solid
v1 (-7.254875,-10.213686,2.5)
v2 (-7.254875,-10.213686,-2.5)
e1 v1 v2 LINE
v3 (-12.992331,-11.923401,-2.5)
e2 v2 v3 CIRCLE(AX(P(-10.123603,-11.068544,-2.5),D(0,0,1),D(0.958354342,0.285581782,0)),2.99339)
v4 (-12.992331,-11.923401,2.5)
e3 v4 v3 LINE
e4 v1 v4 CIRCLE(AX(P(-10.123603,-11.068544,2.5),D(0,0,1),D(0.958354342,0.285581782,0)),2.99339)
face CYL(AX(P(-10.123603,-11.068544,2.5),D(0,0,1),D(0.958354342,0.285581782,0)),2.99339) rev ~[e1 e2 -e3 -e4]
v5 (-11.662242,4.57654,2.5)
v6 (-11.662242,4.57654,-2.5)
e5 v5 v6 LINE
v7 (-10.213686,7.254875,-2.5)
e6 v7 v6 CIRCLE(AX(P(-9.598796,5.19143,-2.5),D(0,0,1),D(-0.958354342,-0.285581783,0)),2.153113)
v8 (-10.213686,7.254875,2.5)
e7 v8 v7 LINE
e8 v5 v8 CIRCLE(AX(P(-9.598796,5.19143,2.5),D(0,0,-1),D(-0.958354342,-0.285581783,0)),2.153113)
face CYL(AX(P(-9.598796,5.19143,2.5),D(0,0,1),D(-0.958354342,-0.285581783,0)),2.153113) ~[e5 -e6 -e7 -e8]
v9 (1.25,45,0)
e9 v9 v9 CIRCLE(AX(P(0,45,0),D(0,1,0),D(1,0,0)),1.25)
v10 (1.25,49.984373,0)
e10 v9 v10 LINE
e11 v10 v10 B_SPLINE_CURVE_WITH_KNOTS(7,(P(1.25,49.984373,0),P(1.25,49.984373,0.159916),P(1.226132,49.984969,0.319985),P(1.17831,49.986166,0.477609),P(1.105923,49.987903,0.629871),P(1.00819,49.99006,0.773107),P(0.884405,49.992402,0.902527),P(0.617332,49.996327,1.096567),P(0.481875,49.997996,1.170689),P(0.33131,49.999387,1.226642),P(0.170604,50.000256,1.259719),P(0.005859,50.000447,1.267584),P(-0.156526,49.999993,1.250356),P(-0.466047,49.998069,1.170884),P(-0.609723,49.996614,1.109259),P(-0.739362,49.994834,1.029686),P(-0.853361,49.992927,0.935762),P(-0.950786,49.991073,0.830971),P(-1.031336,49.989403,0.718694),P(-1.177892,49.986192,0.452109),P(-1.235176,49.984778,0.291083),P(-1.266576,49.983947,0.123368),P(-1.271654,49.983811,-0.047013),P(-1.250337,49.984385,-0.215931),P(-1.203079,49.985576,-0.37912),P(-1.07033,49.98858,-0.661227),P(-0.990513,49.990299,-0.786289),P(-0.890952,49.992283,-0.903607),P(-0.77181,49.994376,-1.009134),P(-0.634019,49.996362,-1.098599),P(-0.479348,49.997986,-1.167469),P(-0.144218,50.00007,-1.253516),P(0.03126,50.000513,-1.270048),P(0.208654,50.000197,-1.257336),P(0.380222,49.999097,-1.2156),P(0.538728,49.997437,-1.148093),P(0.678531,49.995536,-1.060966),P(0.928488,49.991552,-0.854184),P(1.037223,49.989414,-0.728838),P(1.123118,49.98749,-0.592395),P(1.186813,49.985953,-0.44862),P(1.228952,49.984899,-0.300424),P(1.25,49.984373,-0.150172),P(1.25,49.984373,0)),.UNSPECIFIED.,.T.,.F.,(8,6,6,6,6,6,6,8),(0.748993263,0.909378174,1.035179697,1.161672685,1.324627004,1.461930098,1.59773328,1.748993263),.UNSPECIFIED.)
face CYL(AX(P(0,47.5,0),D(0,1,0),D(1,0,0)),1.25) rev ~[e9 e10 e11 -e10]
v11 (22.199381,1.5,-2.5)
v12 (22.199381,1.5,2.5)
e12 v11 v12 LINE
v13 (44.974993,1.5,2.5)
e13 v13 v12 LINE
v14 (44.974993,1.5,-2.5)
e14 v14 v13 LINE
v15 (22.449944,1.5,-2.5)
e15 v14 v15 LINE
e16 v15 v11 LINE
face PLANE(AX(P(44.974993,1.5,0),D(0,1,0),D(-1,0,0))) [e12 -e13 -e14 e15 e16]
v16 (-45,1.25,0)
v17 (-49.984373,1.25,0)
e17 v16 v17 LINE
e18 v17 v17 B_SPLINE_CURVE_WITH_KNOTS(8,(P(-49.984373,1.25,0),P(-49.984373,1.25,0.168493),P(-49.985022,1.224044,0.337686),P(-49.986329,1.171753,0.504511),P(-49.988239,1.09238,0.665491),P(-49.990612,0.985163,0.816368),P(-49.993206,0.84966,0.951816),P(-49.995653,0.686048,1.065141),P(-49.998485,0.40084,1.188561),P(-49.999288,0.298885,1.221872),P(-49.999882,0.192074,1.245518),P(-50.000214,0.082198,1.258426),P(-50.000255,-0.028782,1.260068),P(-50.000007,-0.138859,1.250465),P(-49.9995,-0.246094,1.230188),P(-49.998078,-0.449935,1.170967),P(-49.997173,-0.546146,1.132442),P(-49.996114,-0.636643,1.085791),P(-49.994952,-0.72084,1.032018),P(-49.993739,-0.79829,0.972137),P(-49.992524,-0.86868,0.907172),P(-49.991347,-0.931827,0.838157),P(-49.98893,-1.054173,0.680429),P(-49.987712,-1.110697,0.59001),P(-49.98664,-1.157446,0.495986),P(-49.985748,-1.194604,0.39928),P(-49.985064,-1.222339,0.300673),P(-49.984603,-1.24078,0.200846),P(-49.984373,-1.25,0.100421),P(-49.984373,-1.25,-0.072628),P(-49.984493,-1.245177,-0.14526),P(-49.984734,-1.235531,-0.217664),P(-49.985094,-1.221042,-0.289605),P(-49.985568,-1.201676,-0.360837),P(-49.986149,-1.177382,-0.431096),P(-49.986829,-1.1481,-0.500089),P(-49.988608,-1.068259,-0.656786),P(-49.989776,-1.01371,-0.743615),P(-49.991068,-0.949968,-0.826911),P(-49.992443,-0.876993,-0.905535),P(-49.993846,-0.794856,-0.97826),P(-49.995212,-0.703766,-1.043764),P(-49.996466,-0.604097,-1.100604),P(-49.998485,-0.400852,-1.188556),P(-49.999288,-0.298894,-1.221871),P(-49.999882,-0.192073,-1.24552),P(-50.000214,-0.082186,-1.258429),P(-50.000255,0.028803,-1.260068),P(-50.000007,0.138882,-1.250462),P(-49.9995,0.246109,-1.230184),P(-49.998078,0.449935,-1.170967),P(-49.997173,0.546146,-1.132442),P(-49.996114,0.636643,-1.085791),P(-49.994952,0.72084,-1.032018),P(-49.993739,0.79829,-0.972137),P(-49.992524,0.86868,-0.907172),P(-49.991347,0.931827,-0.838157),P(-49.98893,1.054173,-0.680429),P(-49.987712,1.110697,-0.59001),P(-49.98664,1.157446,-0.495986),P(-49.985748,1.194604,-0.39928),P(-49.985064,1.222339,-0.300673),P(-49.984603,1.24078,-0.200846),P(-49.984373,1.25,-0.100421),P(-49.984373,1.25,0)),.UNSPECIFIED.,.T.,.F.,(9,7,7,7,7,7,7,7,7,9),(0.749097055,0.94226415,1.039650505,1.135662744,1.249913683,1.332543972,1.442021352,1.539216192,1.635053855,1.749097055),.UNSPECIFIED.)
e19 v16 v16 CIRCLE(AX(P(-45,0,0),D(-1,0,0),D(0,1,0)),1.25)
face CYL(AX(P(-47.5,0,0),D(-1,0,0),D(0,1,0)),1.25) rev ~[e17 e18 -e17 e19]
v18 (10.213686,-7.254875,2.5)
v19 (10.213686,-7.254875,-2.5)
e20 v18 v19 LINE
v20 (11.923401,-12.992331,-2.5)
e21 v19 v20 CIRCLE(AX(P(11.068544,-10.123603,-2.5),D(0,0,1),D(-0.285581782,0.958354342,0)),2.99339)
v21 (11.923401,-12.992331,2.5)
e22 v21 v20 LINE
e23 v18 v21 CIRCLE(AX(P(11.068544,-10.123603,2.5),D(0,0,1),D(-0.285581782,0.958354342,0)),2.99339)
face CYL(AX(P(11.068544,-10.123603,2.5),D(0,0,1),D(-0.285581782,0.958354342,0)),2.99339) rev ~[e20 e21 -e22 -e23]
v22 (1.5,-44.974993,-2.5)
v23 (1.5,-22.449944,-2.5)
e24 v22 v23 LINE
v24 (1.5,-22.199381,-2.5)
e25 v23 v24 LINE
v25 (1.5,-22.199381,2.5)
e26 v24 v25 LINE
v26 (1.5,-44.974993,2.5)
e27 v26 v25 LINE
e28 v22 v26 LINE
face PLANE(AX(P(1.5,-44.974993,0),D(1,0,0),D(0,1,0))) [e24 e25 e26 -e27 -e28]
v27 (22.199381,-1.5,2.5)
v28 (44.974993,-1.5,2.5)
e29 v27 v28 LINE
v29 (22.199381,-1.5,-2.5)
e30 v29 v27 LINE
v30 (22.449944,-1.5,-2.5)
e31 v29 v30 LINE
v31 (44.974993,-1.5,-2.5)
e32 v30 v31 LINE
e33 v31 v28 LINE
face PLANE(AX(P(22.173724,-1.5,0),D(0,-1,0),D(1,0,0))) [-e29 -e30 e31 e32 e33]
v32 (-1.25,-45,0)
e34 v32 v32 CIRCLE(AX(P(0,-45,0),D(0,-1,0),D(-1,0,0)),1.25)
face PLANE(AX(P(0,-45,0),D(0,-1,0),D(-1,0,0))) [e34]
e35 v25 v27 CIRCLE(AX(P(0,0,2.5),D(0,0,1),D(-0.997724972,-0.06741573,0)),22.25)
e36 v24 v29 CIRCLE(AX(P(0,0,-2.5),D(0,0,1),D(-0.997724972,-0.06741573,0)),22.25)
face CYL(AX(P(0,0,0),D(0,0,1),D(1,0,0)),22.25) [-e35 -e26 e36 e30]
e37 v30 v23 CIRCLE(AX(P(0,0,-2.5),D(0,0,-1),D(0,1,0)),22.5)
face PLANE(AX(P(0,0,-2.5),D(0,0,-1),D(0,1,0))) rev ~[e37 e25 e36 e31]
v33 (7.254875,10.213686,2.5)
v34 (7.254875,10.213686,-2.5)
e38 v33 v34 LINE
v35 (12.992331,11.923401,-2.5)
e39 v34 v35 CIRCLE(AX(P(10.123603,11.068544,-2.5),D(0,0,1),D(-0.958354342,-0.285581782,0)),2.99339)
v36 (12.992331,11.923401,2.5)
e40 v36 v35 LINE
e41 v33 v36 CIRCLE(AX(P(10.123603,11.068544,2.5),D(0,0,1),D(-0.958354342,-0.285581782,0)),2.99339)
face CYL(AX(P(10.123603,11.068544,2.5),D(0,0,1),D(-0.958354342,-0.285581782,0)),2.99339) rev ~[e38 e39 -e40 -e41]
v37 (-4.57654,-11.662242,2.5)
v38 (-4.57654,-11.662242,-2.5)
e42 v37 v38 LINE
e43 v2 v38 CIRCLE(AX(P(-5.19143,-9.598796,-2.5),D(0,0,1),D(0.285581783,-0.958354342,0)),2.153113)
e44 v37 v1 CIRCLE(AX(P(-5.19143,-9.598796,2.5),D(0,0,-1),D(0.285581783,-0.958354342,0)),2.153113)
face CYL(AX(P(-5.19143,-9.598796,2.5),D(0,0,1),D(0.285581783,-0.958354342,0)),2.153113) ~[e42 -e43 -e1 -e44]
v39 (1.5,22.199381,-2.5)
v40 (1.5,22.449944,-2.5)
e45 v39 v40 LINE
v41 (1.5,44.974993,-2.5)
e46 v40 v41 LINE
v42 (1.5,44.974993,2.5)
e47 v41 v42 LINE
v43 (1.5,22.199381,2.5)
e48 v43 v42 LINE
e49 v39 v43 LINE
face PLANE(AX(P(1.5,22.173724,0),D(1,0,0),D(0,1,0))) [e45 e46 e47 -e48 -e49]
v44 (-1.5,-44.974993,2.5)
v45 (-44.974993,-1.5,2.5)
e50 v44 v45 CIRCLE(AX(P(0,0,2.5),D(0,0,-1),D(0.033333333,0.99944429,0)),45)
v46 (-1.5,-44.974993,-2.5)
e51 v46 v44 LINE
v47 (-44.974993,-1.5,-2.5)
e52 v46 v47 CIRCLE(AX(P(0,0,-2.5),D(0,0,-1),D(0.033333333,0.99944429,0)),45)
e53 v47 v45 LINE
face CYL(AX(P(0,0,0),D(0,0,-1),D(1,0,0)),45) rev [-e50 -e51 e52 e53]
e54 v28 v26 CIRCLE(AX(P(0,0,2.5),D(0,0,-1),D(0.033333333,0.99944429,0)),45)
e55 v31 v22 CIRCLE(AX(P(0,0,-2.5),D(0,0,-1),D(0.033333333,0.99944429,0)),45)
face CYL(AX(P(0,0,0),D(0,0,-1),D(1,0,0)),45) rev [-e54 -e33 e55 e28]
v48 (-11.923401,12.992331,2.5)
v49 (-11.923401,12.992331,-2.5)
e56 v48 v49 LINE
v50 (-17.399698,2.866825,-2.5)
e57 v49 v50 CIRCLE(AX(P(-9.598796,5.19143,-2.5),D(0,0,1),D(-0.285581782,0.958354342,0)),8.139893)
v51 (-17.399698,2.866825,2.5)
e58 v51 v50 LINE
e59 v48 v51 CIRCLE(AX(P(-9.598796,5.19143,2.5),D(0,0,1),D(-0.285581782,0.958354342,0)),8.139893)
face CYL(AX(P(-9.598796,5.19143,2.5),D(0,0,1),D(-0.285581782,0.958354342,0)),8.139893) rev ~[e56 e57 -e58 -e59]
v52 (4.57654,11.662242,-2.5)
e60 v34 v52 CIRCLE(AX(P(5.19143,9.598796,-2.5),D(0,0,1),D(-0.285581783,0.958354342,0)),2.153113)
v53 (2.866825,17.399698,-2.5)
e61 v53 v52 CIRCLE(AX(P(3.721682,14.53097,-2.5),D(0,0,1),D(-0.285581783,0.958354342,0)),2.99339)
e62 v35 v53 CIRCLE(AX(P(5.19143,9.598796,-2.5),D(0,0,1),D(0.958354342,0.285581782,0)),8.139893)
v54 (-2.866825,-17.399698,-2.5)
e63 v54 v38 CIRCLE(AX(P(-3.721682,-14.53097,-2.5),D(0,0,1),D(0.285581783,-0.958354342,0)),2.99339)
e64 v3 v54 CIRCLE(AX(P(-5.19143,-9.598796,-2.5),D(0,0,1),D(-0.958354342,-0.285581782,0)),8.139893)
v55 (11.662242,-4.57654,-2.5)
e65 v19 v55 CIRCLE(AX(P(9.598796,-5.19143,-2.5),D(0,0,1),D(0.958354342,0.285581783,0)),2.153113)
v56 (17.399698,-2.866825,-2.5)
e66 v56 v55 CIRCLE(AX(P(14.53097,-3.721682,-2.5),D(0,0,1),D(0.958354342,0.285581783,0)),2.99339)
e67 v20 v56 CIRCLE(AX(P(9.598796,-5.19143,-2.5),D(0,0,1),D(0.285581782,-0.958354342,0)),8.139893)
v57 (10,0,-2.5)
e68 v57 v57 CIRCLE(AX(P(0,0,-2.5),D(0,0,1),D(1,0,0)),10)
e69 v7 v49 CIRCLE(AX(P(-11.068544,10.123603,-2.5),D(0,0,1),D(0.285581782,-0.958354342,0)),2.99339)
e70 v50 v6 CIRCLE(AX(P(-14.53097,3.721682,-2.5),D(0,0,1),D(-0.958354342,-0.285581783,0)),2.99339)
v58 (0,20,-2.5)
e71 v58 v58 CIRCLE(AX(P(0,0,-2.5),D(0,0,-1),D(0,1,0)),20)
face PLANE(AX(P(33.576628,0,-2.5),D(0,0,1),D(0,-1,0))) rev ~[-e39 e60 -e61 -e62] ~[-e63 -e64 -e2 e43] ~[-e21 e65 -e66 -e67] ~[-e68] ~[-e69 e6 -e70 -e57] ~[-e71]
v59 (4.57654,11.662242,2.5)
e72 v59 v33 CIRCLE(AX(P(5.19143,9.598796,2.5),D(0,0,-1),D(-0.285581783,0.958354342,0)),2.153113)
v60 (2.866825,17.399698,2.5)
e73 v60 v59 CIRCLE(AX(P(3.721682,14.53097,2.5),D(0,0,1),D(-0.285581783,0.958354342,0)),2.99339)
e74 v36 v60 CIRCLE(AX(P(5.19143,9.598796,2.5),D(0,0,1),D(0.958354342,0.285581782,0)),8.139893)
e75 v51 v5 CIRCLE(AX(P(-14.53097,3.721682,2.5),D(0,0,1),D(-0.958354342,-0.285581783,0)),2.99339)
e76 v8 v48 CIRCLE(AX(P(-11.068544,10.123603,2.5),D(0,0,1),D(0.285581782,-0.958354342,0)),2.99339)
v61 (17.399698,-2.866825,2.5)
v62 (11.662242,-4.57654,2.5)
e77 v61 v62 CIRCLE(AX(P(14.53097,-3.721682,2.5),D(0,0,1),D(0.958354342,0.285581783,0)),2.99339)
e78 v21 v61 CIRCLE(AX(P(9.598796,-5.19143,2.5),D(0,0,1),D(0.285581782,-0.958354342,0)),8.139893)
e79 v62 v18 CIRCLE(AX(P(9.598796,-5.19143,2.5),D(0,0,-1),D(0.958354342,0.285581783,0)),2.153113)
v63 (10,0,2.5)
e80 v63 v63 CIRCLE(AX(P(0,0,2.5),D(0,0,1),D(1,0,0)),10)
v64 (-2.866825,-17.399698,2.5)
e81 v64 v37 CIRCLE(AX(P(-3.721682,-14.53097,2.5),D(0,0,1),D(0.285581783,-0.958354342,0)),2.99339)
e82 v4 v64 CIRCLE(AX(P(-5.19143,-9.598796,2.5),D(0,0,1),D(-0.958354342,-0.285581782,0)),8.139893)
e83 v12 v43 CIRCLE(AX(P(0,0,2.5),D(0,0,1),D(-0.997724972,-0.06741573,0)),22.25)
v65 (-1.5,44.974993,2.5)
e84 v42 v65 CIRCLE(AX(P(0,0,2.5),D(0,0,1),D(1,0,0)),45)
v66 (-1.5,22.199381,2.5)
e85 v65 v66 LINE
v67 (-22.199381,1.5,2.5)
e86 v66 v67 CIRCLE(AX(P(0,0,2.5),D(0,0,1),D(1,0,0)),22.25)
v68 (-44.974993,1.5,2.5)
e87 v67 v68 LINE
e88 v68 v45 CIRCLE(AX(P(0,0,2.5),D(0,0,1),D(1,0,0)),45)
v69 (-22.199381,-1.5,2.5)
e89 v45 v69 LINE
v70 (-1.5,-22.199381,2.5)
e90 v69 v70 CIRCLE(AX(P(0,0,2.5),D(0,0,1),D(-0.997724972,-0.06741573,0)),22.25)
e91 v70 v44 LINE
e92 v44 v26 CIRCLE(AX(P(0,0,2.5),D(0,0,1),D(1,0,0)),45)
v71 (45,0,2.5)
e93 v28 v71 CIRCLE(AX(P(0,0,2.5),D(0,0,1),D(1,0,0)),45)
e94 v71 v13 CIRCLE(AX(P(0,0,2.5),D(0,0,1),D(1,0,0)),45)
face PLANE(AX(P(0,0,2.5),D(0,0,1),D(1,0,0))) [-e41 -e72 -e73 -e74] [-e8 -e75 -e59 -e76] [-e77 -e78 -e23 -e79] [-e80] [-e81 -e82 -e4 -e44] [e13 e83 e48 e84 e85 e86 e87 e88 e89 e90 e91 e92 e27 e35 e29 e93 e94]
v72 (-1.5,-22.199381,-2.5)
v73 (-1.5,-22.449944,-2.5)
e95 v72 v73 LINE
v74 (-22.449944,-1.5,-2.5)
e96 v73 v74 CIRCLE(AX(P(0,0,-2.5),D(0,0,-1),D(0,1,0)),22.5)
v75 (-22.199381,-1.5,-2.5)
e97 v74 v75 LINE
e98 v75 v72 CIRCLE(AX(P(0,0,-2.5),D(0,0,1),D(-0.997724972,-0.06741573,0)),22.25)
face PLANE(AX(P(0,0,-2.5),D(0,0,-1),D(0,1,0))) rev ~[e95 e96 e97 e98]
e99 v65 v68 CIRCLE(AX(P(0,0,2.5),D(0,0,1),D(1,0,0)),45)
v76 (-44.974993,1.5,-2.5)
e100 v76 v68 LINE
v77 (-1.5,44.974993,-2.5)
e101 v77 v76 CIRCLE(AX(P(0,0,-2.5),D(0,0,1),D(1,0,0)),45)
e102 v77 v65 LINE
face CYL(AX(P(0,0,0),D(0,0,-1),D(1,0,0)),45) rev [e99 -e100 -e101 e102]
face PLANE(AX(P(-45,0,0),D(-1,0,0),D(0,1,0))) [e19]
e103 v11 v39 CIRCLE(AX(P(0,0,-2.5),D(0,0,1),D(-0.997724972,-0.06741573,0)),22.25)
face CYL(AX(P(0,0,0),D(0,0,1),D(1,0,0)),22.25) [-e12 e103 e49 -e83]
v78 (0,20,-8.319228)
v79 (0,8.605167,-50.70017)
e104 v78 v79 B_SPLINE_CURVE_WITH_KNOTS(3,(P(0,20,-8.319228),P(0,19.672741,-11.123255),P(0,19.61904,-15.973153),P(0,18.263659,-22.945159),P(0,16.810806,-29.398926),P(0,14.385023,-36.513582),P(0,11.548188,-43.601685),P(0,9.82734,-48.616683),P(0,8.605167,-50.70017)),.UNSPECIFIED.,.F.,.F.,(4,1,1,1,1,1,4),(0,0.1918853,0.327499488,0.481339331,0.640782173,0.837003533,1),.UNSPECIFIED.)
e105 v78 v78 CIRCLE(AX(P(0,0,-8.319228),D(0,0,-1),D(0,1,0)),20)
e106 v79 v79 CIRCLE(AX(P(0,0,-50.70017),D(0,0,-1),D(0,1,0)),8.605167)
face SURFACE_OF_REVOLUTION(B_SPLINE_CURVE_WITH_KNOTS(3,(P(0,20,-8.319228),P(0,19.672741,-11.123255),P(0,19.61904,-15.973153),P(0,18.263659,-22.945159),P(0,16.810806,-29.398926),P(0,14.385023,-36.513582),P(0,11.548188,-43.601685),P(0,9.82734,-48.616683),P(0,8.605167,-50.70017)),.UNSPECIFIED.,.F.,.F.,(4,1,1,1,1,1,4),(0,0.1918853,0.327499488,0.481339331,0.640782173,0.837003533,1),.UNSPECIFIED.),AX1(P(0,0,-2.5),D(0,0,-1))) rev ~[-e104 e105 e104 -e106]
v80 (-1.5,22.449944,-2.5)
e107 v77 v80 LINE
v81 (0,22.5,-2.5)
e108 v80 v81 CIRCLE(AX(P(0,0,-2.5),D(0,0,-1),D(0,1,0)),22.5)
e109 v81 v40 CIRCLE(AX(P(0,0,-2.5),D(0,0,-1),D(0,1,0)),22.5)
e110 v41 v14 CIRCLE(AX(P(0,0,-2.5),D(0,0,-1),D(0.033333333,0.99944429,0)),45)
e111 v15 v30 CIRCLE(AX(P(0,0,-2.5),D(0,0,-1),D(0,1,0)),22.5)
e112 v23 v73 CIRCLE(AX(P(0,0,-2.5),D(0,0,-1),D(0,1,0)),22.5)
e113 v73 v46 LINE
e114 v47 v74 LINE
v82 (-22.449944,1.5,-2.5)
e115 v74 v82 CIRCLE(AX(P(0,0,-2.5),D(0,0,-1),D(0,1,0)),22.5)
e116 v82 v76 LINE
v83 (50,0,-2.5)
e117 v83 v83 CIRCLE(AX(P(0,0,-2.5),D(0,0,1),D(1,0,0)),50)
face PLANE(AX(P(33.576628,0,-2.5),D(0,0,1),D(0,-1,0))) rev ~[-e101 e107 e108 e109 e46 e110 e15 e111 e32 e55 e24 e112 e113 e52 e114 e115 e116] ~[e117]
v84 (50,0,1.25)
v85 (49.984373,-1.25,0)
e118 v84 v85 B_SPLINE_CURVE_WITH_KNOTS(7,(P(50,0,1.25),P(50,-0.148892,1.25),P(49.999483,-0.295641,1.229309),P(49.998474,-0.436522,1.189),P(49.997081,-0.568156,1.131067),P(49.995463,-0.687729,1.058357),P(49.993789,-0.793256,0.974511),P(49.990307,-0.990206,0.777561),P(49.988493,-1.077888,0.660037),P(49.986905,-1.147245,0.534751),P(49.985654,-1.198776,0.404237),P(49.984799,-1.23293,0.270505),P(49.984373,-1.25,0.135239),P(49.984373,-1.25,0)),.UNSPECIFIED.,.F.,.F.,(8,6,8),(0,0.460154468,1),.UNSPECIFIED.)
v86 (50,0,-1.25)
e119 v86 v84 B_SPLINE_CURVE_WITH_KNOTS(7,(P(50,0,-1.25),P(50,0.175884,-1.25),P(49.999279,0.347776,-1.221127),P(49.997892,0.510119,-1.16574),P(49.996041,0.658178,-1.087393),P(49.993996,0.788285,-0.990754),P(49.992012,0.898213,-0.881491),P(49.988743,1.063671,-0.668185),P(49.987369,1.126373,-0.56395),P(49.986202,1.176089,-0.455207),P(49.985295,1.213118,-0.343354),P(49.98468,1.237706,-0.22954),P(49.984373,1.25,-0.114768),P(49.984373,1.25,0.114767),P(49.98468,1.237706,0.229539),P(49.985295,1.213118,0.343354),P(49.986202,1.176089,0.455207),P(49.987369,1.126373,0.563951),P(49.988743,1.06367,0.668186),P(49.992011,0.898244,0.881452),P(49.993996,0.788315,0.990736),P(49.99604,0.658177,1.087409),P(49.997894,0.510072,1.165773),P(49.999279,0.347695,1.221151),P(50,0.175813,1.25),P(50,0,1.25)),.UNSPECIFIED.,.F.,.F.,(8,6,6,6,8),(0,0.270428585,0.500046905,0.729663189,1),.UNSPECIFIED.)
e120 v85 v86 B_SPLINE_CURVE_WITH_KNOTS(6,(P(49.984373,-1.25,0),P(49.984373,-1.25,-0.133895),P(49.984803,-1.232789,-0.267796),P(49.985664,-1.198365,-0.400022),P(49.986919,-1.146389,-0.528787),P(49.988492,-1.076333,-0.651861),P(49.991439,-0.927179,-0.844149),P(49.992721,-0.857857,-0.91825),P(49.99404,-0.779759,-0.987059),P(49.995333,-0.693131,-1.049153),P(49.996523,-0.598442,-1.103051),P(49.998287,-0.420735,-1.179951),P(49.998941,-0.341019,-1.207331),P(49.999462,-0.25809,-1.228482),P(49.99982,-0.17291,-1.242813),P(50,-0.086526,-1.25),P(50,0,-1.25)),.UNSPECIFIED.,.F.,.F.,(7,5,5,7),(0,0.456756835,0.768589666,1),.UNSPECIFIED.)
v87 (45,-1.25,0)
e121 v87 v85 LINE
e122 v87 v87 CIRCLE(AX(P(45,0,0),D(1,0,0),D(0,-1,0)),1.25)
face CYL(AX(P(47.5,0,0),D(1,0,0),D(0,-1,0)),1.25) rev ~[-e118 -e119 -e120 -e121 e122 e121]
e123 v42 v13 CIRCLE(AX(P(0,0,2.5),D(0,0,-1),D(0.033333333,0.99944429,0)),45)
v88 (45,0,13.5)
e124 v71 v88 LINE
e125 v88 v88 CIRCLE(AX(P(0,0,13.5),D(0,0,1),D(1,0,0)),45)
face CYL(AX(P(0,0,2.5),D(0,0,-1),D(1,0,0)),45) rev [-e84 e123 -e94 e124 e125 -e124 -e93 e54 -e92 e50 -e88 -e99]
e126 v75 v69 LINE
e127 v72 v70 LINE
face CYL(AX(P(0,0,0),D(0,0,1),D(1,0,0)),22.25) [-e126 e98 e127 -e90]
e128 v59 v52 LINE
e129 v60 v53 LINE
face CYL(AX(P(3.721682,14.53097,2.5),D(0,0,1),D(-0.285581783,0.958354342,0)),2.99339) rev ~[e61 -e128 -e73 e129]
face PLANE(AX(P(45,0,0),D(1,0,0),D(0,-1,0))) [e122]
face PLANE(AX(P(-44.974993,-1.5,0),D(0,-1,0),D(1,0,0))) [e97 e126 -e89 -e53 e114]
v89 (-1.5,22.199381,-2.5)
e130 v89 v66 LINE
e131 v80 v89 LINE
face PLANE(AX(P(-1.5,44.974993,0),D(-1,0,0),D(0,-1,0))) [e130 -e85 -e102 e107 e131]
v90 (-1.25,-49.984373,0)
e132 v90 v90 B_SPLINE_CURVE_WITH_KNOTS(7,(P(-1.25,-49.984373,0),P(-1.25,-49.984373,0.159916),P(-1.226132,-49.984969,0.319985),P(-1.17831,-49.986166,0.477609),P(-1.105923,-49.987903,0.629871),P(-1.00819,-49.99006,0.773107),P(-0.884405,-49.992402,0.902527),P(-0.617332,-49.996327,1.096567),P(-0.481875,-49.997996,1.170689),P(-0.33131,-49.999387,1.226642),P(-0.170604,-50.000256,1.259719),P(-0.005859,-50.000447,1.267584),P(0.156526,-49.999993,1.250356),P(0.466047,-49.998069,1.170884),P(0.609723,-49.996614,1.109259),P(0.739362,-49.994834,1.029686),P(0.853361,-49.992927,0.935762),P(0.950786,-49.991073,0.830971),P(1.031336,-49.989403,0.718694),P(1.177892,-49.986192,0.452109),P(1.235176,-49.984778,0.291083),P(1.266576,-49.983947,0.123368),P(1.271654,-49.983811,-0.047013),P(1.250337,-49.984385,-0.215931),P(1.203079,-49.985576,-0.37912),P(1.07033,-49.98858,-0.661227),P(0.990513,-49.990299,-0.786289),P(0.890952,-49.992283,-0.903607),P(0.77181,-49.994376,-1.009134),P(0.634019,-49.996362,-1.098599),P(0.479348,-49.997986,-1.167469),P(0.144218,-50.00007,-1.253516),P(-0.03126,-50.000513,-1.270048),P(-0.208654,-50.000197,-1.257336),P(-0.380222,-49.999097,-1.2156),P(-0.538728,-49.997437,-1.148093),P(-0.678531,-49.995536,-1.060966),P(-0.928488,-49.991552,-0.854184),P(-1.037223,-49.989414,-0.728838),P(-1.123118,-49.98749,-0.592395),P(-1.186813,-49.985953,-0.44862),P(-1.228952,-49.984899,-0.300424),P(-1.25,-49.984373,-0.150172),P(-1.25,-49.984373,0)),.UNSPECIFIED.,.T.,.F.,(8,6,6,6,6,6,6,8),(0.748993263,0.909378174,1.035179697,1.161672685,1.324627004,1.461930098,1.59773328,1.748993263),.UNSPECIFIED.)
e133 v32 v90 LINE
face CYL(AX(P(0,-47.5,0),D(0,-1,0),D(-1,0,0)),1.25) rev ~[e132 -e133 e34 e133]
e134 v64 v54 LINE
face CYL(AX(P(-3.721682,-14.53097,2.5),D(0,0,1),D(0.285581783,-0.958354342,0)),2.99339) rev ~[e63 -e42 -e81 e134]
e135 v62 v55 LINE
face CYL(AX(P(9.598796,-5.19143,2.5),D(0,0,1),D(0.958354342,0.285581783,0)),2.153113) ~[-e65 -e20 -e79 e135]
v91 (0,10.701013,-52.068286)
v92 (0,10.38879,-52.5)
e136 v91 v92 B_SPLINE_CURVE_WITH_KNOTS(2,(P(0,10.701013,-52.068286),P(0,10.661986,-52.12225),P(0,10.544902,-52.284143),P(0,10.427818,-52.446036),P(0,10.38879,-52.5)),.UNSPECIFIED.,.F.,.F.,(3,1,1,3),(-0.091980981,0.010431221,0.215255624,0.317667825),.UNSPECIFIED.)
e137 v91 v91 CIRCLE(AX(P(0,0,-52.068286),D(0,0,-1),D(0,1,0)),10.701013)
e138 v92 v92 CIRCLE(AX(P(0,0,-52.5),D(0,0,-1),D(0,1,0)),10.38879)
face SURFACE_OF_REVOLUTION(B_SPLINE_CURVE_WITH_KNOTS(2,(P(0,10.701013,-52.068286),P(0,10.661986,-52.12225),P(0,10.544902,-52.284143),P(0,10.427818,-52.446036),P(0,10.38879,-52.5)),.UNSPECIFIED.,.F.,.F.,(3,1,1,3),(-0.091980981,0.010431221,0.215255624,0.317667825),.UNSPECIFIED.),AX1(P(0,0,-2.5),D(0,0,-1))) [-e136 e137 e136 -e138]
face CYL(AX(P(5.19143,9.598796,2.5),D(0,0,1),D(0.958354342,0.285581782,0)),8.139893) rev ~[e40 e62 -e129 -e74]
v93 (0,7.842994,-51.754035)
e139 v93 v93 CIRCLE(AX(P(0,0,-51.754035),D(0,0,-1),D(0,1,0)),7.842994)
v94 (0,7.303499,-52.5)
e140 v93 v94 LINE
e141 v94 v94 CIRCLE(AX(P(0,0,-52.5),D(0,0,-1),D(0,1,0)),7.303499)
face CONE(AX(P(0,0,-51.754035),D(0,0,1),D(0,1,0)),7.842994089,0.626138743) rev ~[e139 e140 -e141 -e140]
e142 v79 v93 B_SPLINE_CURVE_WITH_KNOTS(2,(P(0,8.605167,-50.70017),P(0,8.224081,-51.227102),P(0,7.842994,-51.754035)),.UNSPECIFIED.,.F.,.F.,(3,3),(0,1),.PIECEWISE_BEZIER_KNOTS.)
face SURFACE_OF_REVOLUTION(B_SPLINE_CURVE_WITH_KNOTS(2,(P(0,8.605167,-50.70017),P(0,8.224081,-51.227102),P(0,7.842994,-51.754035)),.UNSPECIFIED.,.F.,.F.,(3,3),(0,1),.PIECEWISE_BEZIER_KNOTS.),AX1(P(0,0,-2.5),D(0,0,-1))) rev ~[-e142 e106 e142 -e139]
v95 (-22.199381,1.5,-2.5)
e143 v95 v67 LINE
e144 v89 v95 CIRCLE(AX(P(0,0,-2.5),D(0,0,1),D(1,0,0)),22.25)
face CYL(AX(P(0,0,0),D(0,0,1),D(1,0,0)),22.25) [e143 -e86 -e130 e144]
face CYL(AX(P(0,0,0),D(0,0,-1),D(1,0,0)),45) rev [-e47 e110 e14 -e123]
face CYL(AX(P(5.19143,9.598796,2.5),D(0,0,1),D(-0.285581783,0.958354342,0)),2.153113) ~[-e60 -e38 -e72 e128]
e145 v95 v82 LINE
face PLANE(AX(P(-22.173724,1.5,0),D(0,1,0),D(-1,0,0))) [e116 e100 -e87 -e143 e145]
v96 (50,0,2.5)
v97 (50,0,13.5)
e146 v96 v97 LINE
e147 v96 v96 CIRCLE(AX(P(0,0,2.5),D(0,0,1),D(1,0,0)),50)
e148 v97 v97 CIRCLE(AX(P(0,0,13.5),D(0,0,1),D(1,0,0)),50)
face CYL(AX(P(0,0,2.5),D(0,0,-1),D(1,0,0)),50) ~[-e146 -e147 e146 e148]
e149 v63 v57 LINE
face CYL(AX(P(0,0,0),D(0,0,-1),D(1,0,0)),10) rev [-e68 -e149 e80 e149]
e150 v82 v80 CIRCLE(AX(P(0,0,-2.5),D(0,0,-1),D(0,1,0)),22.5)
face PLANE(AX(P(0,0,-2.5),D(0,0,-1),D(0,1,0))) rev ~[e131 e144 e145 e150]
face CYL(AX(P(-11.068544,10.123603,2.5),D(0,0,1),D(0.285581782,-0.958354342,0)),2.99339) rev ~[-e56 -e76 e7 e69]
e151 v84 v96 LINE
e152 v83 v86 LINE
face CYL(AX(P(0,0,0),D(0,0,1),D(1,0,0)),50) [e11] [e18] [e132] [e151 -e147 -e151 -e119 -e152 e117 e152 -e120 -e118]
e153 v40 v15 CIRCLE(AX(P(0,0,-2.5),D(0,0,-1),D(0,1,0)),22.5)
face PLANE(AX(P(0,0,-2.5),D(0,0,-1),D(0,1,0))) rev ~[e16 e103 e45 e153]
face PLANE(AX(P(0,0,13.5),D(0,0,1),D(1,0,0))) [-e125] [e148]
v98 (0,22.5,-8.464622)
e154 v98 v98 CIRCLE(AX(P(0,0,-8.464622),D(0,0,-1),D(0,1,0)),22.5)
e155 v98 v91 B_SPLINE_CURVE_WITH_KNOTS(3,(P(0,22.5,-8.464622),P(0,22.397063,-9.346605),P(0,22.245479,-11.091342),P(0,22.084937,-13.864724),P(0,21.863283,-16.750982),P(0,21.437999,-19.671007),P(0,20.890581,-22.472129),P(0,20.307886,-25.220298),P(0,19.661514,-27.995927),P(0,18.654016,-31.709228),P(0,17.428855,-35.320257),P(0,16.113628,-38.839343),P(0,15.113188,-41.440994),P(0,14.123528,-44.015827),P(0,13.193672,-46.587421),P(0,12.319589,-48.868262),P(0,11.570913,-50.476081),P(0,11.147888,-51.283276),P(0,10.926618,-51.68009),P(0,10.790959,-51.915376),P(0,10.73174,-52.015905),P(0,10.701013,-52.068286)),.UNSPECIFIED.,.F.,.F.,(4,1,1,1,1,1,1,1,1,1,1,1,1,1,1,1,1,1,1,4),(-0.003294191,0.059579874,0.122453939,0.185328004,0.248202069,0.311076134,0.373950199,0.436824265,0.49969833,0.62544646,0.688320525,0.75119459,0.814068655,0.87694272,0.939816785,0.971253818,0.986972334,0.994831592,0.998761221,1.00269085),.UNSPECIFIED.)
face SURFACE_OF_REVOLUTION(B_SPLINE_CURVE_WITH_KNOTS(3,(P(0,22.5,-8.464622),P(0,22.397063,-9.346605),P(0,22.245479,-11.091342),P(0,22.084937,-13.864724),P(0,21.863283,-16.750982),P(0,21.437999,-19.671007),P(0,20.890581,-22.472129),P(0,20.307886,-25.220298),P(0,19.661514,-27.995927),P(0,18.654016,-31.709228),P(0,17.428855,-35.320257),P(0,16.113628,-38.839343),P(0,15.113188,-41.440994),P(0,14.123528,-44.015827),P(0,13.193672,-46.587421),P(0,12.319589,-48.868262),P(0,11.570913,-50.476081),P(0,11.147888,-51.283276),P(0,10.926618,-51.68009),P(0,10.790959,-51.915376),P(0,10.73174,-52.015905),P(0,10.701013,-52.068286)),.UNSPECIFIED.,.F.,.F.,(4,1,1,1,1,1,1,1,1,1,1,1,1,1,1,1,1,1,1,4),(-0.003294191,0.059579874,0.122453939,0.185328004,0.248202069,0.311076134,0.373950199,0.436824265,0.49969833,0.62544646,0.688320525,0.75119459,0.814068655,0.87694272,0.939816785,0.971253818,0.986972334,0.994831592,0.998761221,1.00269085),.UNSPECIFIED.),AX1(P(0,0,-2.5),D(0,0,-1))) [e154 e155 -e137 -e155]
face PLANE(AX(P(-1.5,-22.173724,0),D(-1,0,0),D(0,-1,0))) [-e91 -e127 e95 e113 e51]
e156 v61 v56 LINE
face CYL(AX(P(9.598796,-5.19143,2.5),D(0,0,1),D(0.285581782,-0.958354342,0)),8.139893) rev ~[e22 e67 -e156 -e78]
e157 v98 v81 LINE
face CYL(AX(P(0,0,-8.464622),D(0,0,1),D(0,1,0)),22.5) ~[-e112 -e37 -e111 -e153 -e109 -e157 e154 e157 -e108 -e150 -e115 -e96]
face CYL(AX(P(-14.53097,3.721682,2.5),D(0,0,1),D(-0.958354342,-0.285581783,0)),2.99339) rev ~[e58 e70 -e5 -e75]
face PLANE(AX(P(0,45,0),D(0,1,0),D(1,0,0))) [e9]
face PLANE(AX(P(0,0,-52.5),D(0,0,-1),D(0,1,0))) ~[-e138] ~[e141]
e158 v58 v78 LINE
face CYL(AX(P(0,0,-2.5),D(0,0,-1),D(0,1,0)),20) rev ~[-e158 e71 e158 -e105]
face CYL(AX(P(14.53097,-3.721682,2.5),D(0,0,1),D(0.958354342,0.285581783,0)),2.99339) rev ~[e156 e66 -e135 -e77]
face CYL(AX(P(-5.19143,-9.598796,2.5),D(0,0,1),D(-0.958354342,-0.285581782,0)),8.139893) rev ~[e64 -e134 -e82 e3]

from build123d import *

# Parameters (mm, degrees)
SKETCH4_R           = 50
SKETCH4_R_2         = 45
BOSS_EXTRUDE2_DEPTH = 2.5
SKETCH6_R           = 22.25
SKETCH6_R_2         = 10
BOSS_EXTRUDE3_DEPTH = 2.5
BOSS_EXTRUDE4_DEPTH = 2.5
CIRPATTERN1_COUNT   = 4
CUT_EXTRUDE2_DEPTH  = 20
SKETCH19_R          = 1.25
CUT_EXTRUDE3_DEPTH  = 2.5
CIRPATTERN2_COUNT   = 4
SKETCH20_R          = 50
SKETCH20_R_2        = 45
BOSS_EXTRUDE5_DEPTH = 11


with BuildPart() as part:
    # Sketch4 → Boss-Extrude2 (new body, symmetric)
    with BuildSketch(Plane.XY):
        Circle(SKETCH4_R)
        Circle(SKETCH4_R_2, mode=Mode.SUBTRACT)
    extrude(amount=BOSS_EXTRUDE2_DEPTH, both=True)



with BuildPart() as body_2:
    # Sketch6 → Boss-Extrude3 (new body, symmetric)
    with BuildSketch(Plane.XY):
        Circle(SKETCH6_R)
        Circle(SKETCH6_R_2, mode=Mode.SUBTRACT)
    extrude(amount=BOSS_EXTRUDE3_DEPTH, both=True)


with BuildPart() as part_1:
    add(part.part)

    add(body_2.part)  # Boss-Extrude4 merges body 2
    # Sketch7 → Boss-Extrude4 (add, symmetric)
    with BuildSketch(Plane.XY):
        with BuildLine():
            Line((1.5, 22.173723668), (1.5, 44.974993052))
            ThreePointArc((1.5, 44.974993052), (0, 45), (-1.5, 44.974993052))
            Line((-1.5, 44.974993052), (-1.5, 22.173723668))
            ThreePointArc((-1.5, 22.173723668), (0, 22.224401484), (1.5, 22.173723668))
        make_face()
    boss_extrude4 = extrude(amount=BOSS_EXTRUDE4_DEPTH, both=True)

    # CirPattern1: Boss-Extrude4 ×4 about axis
    cirpattern1_axis = Axis((0, 0, 0), (0, 0, 1))
    for i in range(1, CIRPATTERN1_COUNT):
        add(boss_extrude4.rotate(cirpattern1_axis, i * 360 / CIRPATTERN1_COUNT))

    # Sketch16 → Revolve5 (revolve)
    with BuildSketch(Plane(origin=(0, 0, 0), x_dir=(0, 0, -1), z_dir=(1, 0, 0))):
        with BuildLine():
            Line((2.5, 22.5), (2.5, 20))
            Line((2.5, 20), (8.319227557, 20))
            add(Edge.make_bspline(
                [(8.319227557, 20), (11.123254562, 19.6727407), (15.973153481, 19.619040378), (22.945159124, 18.263658856), (29.398925624, 16.810806242), (36.513582053, 14.385022759), (43.601684551, 11.54818751), (48.61668349, 9.827339582), (50.700170198, 8.605167266)],
                knots=[0, 0, 0, 0, 0.1918853, 0.327499488, 0.481339331, 0.640782173, 0.837003533, 1, 1, 1, 1], degree=3))
            add(Edge.make_bspline(
                [(50.700170198, 8.605167266), (51.227102493, 8.224080677), (51.754034788, 7.842994089)],
                knots=[0, 0, 0, 1, 1, 1], degree=2))
            Line((51.754034788, 7.842994089), (52.5, 7.303499091))
            Line((52.5, 7.303499091), (52.5, 10.388790167))
            add(Edge.make_bspline(
                [(52.068285629, 10.701013498), (52.122249925, 10.661985582), (52.284142815, 10.544901832), (52.446035704, 10.427818083), (52.5, 10.388790167)],
                knots=[-0.091980981, -0.091980981, -0.091980981, 0.010431221, 0.215255624, 0.317667825, 0.317667825, 0.317667825], degree=2))
            add(Edge.make_bspline(
                [(8.464622197, 22.5), (9.346604646, 22.397063417), (11.091341923, 22.245478983), (13.864723915, 22.08493702), (16.750982068, 21.863282745), (19.67100668, 21.437998985), (22.472128979, 20.890581106), (25.220298474, 20.307886272), (27.995926722, 19.661513734), (31.709227942, 18.654015601), (35.320256891, 17.428854793), (38.839343196, 16.113628139), (41.44099355, 15.113187926), (44.015827232, 14.123528369), (46.587421441, 13.193671921), (48.868261591, 12.319589328), (50.476081329, 11.570913159), (51.283275743, 11.147887794), (51.680089744, 10.926618218), (51.915375523, 10.790958684), (52.015905313, 10.731739767), (52.068285629, 10.701013498)],
                knots=[-0.003294191, -0.003294191, -0.003294191, -0.003294191, 0.059579874, 0.122453939, 0.185328004, 0.248202069, 0.311076134, 0.373950199, 0.436824265, 0.49969833, 0.62544646, 0.688320525, 0.75119459, 0.814068655, 0.87694272, 0.939816785, 0.971253818, 0.986972334, 0.994831592, 0.998761221, 1.00269085, 1.00269085, 1.00269085, 1.00269085], degree=3))
            Line((8.464622197, 22.5), (7.5, 22.5))
            Line((7.5, 22.5), (5, 22.5))
            Line((5, 22.5), (2.5, 22.5))
        make_face()
    revolve(axis=Axis((0, 0, -2.5), (0, 0, -1)))

    # Sketch17 → Cut-Extrude2 (cut)
    with BuildSketch(Plane.XY.offset(2.5)):
        with BuildLine():
            ThreePointArc((12.992330947, 11.923401399), (9.06375587, 16.758610598), (2.86682458, 17.399697733))
            ThreePointArc((2.86682458, 17.399697733), (0.852954159, 13.676112204), (4.576539687, 11.662241783))
            ThreePointArc((4.576539687, 11.662241783), (6.215713007, 11.492665443), (7.254874997, 10.213686293))
            ThreePointArc((7.254874997, 10.213686293), (10.978460525, 8.199815871), (12.992330947, 11.923401399))
        make_face()
        with BuildLine():
            ThreePointArc((11.923401399, -12.992330947), (16.758610598, -9.06375587), (17.399697733, -2.86682458))
            ThreePointArc((17.399697733, -2.86682458), (13.676112204, -0.852954159), (11.662241783, -4.576539687))
            ThreePointArc((11.662241783, -4.576539687), (11.492665443, -6.215713007), (10.213686293, -7.254874997))
            ThreePointArc((10.213686293, -7.254874997), (8.199815871, -10.978460525), (11.923401399, -12.992330947))
        make_face()
        with BuildLine():
            ThreePointArc((-12.992330947, -11.923401399), (-9.06375587, -16.758610598), (-2.86682458, -17.399697733))
            ThreePointArc((-2.86682458, -17.399697733), (-0.852954159, -13.676112204), (-4.576539687, -11.662241783))
            ThreePointArc((-4.576539687, -11.662241783), (-6.215713007, -11.492665443), (-7.254874997, -10.213686293))
            ThreePointArc((-7.254874997, -10.213686293), (-10.978460525, -8.199815871), (-12.992330947, -11.923401399))
        make_face()
        with BuildLine():
            ThreePointArc((-11.923401399, 12.992330947), (-16.758610598, 9.06375587), (-17.399697733, 2.86682458))
            ThreePointArc((-17.399697733, 2.86682458), (-13.676112204, 0.852954159), (-11.662241783, 4.576539687))
            ThreePointArc((-11.662241783, 4.576539687), (-11.492665443, 6.215713007), (-10.213686293, 7.254874997))
            ThreePointArc((-10.213686293, 7.254874997), (-8.199815871, 10.978460525), (-11.923401399, 12.992330947))
        make_face()
    extrude(amount=-CUT_EXTRUDE2_DEPTH, mode=Mode.SUBTRACT)

    # Sketch19 → Cut-Extrude3 (cut, symmetric)
    with BuildSketch(Plane(origin=(0, 47.5, 0), x_dir=(1, 0, 0), z_dir=(0, 1, 0))):
        Circle(SKETCH19_R)
    cut_extrude3 = extrude(amount=CUT_EXTRUDE3_DEPTH, both=True, mode=Mode.SUBTRACT)

    # CirPattern2: Cut-Extrude3 ×4 about axis
    cirpattern2_axis = Axis((0, 0, 0), (0, 0, 1))
    for i in range(1, CIRPATTERN2_COUNT):
        add(cut_extrude3.rotate(cirpattern2_axis, i * 360 / CIRPATTERN2_COUNT), mode=Mode.SUBTRACT)

    # Sketch20 → Boss-Extrude5 (add)
    with BuildSketch(Plane.XY.offset(2.5)):
        Circle(SKETCH20_R)
        Circle(SKETCH20_R_2, mode=Mode.SUBTRACT)
    extrude(amount=BOSS_EXTRUDE5_DEPTH)


solid = part_1.part
